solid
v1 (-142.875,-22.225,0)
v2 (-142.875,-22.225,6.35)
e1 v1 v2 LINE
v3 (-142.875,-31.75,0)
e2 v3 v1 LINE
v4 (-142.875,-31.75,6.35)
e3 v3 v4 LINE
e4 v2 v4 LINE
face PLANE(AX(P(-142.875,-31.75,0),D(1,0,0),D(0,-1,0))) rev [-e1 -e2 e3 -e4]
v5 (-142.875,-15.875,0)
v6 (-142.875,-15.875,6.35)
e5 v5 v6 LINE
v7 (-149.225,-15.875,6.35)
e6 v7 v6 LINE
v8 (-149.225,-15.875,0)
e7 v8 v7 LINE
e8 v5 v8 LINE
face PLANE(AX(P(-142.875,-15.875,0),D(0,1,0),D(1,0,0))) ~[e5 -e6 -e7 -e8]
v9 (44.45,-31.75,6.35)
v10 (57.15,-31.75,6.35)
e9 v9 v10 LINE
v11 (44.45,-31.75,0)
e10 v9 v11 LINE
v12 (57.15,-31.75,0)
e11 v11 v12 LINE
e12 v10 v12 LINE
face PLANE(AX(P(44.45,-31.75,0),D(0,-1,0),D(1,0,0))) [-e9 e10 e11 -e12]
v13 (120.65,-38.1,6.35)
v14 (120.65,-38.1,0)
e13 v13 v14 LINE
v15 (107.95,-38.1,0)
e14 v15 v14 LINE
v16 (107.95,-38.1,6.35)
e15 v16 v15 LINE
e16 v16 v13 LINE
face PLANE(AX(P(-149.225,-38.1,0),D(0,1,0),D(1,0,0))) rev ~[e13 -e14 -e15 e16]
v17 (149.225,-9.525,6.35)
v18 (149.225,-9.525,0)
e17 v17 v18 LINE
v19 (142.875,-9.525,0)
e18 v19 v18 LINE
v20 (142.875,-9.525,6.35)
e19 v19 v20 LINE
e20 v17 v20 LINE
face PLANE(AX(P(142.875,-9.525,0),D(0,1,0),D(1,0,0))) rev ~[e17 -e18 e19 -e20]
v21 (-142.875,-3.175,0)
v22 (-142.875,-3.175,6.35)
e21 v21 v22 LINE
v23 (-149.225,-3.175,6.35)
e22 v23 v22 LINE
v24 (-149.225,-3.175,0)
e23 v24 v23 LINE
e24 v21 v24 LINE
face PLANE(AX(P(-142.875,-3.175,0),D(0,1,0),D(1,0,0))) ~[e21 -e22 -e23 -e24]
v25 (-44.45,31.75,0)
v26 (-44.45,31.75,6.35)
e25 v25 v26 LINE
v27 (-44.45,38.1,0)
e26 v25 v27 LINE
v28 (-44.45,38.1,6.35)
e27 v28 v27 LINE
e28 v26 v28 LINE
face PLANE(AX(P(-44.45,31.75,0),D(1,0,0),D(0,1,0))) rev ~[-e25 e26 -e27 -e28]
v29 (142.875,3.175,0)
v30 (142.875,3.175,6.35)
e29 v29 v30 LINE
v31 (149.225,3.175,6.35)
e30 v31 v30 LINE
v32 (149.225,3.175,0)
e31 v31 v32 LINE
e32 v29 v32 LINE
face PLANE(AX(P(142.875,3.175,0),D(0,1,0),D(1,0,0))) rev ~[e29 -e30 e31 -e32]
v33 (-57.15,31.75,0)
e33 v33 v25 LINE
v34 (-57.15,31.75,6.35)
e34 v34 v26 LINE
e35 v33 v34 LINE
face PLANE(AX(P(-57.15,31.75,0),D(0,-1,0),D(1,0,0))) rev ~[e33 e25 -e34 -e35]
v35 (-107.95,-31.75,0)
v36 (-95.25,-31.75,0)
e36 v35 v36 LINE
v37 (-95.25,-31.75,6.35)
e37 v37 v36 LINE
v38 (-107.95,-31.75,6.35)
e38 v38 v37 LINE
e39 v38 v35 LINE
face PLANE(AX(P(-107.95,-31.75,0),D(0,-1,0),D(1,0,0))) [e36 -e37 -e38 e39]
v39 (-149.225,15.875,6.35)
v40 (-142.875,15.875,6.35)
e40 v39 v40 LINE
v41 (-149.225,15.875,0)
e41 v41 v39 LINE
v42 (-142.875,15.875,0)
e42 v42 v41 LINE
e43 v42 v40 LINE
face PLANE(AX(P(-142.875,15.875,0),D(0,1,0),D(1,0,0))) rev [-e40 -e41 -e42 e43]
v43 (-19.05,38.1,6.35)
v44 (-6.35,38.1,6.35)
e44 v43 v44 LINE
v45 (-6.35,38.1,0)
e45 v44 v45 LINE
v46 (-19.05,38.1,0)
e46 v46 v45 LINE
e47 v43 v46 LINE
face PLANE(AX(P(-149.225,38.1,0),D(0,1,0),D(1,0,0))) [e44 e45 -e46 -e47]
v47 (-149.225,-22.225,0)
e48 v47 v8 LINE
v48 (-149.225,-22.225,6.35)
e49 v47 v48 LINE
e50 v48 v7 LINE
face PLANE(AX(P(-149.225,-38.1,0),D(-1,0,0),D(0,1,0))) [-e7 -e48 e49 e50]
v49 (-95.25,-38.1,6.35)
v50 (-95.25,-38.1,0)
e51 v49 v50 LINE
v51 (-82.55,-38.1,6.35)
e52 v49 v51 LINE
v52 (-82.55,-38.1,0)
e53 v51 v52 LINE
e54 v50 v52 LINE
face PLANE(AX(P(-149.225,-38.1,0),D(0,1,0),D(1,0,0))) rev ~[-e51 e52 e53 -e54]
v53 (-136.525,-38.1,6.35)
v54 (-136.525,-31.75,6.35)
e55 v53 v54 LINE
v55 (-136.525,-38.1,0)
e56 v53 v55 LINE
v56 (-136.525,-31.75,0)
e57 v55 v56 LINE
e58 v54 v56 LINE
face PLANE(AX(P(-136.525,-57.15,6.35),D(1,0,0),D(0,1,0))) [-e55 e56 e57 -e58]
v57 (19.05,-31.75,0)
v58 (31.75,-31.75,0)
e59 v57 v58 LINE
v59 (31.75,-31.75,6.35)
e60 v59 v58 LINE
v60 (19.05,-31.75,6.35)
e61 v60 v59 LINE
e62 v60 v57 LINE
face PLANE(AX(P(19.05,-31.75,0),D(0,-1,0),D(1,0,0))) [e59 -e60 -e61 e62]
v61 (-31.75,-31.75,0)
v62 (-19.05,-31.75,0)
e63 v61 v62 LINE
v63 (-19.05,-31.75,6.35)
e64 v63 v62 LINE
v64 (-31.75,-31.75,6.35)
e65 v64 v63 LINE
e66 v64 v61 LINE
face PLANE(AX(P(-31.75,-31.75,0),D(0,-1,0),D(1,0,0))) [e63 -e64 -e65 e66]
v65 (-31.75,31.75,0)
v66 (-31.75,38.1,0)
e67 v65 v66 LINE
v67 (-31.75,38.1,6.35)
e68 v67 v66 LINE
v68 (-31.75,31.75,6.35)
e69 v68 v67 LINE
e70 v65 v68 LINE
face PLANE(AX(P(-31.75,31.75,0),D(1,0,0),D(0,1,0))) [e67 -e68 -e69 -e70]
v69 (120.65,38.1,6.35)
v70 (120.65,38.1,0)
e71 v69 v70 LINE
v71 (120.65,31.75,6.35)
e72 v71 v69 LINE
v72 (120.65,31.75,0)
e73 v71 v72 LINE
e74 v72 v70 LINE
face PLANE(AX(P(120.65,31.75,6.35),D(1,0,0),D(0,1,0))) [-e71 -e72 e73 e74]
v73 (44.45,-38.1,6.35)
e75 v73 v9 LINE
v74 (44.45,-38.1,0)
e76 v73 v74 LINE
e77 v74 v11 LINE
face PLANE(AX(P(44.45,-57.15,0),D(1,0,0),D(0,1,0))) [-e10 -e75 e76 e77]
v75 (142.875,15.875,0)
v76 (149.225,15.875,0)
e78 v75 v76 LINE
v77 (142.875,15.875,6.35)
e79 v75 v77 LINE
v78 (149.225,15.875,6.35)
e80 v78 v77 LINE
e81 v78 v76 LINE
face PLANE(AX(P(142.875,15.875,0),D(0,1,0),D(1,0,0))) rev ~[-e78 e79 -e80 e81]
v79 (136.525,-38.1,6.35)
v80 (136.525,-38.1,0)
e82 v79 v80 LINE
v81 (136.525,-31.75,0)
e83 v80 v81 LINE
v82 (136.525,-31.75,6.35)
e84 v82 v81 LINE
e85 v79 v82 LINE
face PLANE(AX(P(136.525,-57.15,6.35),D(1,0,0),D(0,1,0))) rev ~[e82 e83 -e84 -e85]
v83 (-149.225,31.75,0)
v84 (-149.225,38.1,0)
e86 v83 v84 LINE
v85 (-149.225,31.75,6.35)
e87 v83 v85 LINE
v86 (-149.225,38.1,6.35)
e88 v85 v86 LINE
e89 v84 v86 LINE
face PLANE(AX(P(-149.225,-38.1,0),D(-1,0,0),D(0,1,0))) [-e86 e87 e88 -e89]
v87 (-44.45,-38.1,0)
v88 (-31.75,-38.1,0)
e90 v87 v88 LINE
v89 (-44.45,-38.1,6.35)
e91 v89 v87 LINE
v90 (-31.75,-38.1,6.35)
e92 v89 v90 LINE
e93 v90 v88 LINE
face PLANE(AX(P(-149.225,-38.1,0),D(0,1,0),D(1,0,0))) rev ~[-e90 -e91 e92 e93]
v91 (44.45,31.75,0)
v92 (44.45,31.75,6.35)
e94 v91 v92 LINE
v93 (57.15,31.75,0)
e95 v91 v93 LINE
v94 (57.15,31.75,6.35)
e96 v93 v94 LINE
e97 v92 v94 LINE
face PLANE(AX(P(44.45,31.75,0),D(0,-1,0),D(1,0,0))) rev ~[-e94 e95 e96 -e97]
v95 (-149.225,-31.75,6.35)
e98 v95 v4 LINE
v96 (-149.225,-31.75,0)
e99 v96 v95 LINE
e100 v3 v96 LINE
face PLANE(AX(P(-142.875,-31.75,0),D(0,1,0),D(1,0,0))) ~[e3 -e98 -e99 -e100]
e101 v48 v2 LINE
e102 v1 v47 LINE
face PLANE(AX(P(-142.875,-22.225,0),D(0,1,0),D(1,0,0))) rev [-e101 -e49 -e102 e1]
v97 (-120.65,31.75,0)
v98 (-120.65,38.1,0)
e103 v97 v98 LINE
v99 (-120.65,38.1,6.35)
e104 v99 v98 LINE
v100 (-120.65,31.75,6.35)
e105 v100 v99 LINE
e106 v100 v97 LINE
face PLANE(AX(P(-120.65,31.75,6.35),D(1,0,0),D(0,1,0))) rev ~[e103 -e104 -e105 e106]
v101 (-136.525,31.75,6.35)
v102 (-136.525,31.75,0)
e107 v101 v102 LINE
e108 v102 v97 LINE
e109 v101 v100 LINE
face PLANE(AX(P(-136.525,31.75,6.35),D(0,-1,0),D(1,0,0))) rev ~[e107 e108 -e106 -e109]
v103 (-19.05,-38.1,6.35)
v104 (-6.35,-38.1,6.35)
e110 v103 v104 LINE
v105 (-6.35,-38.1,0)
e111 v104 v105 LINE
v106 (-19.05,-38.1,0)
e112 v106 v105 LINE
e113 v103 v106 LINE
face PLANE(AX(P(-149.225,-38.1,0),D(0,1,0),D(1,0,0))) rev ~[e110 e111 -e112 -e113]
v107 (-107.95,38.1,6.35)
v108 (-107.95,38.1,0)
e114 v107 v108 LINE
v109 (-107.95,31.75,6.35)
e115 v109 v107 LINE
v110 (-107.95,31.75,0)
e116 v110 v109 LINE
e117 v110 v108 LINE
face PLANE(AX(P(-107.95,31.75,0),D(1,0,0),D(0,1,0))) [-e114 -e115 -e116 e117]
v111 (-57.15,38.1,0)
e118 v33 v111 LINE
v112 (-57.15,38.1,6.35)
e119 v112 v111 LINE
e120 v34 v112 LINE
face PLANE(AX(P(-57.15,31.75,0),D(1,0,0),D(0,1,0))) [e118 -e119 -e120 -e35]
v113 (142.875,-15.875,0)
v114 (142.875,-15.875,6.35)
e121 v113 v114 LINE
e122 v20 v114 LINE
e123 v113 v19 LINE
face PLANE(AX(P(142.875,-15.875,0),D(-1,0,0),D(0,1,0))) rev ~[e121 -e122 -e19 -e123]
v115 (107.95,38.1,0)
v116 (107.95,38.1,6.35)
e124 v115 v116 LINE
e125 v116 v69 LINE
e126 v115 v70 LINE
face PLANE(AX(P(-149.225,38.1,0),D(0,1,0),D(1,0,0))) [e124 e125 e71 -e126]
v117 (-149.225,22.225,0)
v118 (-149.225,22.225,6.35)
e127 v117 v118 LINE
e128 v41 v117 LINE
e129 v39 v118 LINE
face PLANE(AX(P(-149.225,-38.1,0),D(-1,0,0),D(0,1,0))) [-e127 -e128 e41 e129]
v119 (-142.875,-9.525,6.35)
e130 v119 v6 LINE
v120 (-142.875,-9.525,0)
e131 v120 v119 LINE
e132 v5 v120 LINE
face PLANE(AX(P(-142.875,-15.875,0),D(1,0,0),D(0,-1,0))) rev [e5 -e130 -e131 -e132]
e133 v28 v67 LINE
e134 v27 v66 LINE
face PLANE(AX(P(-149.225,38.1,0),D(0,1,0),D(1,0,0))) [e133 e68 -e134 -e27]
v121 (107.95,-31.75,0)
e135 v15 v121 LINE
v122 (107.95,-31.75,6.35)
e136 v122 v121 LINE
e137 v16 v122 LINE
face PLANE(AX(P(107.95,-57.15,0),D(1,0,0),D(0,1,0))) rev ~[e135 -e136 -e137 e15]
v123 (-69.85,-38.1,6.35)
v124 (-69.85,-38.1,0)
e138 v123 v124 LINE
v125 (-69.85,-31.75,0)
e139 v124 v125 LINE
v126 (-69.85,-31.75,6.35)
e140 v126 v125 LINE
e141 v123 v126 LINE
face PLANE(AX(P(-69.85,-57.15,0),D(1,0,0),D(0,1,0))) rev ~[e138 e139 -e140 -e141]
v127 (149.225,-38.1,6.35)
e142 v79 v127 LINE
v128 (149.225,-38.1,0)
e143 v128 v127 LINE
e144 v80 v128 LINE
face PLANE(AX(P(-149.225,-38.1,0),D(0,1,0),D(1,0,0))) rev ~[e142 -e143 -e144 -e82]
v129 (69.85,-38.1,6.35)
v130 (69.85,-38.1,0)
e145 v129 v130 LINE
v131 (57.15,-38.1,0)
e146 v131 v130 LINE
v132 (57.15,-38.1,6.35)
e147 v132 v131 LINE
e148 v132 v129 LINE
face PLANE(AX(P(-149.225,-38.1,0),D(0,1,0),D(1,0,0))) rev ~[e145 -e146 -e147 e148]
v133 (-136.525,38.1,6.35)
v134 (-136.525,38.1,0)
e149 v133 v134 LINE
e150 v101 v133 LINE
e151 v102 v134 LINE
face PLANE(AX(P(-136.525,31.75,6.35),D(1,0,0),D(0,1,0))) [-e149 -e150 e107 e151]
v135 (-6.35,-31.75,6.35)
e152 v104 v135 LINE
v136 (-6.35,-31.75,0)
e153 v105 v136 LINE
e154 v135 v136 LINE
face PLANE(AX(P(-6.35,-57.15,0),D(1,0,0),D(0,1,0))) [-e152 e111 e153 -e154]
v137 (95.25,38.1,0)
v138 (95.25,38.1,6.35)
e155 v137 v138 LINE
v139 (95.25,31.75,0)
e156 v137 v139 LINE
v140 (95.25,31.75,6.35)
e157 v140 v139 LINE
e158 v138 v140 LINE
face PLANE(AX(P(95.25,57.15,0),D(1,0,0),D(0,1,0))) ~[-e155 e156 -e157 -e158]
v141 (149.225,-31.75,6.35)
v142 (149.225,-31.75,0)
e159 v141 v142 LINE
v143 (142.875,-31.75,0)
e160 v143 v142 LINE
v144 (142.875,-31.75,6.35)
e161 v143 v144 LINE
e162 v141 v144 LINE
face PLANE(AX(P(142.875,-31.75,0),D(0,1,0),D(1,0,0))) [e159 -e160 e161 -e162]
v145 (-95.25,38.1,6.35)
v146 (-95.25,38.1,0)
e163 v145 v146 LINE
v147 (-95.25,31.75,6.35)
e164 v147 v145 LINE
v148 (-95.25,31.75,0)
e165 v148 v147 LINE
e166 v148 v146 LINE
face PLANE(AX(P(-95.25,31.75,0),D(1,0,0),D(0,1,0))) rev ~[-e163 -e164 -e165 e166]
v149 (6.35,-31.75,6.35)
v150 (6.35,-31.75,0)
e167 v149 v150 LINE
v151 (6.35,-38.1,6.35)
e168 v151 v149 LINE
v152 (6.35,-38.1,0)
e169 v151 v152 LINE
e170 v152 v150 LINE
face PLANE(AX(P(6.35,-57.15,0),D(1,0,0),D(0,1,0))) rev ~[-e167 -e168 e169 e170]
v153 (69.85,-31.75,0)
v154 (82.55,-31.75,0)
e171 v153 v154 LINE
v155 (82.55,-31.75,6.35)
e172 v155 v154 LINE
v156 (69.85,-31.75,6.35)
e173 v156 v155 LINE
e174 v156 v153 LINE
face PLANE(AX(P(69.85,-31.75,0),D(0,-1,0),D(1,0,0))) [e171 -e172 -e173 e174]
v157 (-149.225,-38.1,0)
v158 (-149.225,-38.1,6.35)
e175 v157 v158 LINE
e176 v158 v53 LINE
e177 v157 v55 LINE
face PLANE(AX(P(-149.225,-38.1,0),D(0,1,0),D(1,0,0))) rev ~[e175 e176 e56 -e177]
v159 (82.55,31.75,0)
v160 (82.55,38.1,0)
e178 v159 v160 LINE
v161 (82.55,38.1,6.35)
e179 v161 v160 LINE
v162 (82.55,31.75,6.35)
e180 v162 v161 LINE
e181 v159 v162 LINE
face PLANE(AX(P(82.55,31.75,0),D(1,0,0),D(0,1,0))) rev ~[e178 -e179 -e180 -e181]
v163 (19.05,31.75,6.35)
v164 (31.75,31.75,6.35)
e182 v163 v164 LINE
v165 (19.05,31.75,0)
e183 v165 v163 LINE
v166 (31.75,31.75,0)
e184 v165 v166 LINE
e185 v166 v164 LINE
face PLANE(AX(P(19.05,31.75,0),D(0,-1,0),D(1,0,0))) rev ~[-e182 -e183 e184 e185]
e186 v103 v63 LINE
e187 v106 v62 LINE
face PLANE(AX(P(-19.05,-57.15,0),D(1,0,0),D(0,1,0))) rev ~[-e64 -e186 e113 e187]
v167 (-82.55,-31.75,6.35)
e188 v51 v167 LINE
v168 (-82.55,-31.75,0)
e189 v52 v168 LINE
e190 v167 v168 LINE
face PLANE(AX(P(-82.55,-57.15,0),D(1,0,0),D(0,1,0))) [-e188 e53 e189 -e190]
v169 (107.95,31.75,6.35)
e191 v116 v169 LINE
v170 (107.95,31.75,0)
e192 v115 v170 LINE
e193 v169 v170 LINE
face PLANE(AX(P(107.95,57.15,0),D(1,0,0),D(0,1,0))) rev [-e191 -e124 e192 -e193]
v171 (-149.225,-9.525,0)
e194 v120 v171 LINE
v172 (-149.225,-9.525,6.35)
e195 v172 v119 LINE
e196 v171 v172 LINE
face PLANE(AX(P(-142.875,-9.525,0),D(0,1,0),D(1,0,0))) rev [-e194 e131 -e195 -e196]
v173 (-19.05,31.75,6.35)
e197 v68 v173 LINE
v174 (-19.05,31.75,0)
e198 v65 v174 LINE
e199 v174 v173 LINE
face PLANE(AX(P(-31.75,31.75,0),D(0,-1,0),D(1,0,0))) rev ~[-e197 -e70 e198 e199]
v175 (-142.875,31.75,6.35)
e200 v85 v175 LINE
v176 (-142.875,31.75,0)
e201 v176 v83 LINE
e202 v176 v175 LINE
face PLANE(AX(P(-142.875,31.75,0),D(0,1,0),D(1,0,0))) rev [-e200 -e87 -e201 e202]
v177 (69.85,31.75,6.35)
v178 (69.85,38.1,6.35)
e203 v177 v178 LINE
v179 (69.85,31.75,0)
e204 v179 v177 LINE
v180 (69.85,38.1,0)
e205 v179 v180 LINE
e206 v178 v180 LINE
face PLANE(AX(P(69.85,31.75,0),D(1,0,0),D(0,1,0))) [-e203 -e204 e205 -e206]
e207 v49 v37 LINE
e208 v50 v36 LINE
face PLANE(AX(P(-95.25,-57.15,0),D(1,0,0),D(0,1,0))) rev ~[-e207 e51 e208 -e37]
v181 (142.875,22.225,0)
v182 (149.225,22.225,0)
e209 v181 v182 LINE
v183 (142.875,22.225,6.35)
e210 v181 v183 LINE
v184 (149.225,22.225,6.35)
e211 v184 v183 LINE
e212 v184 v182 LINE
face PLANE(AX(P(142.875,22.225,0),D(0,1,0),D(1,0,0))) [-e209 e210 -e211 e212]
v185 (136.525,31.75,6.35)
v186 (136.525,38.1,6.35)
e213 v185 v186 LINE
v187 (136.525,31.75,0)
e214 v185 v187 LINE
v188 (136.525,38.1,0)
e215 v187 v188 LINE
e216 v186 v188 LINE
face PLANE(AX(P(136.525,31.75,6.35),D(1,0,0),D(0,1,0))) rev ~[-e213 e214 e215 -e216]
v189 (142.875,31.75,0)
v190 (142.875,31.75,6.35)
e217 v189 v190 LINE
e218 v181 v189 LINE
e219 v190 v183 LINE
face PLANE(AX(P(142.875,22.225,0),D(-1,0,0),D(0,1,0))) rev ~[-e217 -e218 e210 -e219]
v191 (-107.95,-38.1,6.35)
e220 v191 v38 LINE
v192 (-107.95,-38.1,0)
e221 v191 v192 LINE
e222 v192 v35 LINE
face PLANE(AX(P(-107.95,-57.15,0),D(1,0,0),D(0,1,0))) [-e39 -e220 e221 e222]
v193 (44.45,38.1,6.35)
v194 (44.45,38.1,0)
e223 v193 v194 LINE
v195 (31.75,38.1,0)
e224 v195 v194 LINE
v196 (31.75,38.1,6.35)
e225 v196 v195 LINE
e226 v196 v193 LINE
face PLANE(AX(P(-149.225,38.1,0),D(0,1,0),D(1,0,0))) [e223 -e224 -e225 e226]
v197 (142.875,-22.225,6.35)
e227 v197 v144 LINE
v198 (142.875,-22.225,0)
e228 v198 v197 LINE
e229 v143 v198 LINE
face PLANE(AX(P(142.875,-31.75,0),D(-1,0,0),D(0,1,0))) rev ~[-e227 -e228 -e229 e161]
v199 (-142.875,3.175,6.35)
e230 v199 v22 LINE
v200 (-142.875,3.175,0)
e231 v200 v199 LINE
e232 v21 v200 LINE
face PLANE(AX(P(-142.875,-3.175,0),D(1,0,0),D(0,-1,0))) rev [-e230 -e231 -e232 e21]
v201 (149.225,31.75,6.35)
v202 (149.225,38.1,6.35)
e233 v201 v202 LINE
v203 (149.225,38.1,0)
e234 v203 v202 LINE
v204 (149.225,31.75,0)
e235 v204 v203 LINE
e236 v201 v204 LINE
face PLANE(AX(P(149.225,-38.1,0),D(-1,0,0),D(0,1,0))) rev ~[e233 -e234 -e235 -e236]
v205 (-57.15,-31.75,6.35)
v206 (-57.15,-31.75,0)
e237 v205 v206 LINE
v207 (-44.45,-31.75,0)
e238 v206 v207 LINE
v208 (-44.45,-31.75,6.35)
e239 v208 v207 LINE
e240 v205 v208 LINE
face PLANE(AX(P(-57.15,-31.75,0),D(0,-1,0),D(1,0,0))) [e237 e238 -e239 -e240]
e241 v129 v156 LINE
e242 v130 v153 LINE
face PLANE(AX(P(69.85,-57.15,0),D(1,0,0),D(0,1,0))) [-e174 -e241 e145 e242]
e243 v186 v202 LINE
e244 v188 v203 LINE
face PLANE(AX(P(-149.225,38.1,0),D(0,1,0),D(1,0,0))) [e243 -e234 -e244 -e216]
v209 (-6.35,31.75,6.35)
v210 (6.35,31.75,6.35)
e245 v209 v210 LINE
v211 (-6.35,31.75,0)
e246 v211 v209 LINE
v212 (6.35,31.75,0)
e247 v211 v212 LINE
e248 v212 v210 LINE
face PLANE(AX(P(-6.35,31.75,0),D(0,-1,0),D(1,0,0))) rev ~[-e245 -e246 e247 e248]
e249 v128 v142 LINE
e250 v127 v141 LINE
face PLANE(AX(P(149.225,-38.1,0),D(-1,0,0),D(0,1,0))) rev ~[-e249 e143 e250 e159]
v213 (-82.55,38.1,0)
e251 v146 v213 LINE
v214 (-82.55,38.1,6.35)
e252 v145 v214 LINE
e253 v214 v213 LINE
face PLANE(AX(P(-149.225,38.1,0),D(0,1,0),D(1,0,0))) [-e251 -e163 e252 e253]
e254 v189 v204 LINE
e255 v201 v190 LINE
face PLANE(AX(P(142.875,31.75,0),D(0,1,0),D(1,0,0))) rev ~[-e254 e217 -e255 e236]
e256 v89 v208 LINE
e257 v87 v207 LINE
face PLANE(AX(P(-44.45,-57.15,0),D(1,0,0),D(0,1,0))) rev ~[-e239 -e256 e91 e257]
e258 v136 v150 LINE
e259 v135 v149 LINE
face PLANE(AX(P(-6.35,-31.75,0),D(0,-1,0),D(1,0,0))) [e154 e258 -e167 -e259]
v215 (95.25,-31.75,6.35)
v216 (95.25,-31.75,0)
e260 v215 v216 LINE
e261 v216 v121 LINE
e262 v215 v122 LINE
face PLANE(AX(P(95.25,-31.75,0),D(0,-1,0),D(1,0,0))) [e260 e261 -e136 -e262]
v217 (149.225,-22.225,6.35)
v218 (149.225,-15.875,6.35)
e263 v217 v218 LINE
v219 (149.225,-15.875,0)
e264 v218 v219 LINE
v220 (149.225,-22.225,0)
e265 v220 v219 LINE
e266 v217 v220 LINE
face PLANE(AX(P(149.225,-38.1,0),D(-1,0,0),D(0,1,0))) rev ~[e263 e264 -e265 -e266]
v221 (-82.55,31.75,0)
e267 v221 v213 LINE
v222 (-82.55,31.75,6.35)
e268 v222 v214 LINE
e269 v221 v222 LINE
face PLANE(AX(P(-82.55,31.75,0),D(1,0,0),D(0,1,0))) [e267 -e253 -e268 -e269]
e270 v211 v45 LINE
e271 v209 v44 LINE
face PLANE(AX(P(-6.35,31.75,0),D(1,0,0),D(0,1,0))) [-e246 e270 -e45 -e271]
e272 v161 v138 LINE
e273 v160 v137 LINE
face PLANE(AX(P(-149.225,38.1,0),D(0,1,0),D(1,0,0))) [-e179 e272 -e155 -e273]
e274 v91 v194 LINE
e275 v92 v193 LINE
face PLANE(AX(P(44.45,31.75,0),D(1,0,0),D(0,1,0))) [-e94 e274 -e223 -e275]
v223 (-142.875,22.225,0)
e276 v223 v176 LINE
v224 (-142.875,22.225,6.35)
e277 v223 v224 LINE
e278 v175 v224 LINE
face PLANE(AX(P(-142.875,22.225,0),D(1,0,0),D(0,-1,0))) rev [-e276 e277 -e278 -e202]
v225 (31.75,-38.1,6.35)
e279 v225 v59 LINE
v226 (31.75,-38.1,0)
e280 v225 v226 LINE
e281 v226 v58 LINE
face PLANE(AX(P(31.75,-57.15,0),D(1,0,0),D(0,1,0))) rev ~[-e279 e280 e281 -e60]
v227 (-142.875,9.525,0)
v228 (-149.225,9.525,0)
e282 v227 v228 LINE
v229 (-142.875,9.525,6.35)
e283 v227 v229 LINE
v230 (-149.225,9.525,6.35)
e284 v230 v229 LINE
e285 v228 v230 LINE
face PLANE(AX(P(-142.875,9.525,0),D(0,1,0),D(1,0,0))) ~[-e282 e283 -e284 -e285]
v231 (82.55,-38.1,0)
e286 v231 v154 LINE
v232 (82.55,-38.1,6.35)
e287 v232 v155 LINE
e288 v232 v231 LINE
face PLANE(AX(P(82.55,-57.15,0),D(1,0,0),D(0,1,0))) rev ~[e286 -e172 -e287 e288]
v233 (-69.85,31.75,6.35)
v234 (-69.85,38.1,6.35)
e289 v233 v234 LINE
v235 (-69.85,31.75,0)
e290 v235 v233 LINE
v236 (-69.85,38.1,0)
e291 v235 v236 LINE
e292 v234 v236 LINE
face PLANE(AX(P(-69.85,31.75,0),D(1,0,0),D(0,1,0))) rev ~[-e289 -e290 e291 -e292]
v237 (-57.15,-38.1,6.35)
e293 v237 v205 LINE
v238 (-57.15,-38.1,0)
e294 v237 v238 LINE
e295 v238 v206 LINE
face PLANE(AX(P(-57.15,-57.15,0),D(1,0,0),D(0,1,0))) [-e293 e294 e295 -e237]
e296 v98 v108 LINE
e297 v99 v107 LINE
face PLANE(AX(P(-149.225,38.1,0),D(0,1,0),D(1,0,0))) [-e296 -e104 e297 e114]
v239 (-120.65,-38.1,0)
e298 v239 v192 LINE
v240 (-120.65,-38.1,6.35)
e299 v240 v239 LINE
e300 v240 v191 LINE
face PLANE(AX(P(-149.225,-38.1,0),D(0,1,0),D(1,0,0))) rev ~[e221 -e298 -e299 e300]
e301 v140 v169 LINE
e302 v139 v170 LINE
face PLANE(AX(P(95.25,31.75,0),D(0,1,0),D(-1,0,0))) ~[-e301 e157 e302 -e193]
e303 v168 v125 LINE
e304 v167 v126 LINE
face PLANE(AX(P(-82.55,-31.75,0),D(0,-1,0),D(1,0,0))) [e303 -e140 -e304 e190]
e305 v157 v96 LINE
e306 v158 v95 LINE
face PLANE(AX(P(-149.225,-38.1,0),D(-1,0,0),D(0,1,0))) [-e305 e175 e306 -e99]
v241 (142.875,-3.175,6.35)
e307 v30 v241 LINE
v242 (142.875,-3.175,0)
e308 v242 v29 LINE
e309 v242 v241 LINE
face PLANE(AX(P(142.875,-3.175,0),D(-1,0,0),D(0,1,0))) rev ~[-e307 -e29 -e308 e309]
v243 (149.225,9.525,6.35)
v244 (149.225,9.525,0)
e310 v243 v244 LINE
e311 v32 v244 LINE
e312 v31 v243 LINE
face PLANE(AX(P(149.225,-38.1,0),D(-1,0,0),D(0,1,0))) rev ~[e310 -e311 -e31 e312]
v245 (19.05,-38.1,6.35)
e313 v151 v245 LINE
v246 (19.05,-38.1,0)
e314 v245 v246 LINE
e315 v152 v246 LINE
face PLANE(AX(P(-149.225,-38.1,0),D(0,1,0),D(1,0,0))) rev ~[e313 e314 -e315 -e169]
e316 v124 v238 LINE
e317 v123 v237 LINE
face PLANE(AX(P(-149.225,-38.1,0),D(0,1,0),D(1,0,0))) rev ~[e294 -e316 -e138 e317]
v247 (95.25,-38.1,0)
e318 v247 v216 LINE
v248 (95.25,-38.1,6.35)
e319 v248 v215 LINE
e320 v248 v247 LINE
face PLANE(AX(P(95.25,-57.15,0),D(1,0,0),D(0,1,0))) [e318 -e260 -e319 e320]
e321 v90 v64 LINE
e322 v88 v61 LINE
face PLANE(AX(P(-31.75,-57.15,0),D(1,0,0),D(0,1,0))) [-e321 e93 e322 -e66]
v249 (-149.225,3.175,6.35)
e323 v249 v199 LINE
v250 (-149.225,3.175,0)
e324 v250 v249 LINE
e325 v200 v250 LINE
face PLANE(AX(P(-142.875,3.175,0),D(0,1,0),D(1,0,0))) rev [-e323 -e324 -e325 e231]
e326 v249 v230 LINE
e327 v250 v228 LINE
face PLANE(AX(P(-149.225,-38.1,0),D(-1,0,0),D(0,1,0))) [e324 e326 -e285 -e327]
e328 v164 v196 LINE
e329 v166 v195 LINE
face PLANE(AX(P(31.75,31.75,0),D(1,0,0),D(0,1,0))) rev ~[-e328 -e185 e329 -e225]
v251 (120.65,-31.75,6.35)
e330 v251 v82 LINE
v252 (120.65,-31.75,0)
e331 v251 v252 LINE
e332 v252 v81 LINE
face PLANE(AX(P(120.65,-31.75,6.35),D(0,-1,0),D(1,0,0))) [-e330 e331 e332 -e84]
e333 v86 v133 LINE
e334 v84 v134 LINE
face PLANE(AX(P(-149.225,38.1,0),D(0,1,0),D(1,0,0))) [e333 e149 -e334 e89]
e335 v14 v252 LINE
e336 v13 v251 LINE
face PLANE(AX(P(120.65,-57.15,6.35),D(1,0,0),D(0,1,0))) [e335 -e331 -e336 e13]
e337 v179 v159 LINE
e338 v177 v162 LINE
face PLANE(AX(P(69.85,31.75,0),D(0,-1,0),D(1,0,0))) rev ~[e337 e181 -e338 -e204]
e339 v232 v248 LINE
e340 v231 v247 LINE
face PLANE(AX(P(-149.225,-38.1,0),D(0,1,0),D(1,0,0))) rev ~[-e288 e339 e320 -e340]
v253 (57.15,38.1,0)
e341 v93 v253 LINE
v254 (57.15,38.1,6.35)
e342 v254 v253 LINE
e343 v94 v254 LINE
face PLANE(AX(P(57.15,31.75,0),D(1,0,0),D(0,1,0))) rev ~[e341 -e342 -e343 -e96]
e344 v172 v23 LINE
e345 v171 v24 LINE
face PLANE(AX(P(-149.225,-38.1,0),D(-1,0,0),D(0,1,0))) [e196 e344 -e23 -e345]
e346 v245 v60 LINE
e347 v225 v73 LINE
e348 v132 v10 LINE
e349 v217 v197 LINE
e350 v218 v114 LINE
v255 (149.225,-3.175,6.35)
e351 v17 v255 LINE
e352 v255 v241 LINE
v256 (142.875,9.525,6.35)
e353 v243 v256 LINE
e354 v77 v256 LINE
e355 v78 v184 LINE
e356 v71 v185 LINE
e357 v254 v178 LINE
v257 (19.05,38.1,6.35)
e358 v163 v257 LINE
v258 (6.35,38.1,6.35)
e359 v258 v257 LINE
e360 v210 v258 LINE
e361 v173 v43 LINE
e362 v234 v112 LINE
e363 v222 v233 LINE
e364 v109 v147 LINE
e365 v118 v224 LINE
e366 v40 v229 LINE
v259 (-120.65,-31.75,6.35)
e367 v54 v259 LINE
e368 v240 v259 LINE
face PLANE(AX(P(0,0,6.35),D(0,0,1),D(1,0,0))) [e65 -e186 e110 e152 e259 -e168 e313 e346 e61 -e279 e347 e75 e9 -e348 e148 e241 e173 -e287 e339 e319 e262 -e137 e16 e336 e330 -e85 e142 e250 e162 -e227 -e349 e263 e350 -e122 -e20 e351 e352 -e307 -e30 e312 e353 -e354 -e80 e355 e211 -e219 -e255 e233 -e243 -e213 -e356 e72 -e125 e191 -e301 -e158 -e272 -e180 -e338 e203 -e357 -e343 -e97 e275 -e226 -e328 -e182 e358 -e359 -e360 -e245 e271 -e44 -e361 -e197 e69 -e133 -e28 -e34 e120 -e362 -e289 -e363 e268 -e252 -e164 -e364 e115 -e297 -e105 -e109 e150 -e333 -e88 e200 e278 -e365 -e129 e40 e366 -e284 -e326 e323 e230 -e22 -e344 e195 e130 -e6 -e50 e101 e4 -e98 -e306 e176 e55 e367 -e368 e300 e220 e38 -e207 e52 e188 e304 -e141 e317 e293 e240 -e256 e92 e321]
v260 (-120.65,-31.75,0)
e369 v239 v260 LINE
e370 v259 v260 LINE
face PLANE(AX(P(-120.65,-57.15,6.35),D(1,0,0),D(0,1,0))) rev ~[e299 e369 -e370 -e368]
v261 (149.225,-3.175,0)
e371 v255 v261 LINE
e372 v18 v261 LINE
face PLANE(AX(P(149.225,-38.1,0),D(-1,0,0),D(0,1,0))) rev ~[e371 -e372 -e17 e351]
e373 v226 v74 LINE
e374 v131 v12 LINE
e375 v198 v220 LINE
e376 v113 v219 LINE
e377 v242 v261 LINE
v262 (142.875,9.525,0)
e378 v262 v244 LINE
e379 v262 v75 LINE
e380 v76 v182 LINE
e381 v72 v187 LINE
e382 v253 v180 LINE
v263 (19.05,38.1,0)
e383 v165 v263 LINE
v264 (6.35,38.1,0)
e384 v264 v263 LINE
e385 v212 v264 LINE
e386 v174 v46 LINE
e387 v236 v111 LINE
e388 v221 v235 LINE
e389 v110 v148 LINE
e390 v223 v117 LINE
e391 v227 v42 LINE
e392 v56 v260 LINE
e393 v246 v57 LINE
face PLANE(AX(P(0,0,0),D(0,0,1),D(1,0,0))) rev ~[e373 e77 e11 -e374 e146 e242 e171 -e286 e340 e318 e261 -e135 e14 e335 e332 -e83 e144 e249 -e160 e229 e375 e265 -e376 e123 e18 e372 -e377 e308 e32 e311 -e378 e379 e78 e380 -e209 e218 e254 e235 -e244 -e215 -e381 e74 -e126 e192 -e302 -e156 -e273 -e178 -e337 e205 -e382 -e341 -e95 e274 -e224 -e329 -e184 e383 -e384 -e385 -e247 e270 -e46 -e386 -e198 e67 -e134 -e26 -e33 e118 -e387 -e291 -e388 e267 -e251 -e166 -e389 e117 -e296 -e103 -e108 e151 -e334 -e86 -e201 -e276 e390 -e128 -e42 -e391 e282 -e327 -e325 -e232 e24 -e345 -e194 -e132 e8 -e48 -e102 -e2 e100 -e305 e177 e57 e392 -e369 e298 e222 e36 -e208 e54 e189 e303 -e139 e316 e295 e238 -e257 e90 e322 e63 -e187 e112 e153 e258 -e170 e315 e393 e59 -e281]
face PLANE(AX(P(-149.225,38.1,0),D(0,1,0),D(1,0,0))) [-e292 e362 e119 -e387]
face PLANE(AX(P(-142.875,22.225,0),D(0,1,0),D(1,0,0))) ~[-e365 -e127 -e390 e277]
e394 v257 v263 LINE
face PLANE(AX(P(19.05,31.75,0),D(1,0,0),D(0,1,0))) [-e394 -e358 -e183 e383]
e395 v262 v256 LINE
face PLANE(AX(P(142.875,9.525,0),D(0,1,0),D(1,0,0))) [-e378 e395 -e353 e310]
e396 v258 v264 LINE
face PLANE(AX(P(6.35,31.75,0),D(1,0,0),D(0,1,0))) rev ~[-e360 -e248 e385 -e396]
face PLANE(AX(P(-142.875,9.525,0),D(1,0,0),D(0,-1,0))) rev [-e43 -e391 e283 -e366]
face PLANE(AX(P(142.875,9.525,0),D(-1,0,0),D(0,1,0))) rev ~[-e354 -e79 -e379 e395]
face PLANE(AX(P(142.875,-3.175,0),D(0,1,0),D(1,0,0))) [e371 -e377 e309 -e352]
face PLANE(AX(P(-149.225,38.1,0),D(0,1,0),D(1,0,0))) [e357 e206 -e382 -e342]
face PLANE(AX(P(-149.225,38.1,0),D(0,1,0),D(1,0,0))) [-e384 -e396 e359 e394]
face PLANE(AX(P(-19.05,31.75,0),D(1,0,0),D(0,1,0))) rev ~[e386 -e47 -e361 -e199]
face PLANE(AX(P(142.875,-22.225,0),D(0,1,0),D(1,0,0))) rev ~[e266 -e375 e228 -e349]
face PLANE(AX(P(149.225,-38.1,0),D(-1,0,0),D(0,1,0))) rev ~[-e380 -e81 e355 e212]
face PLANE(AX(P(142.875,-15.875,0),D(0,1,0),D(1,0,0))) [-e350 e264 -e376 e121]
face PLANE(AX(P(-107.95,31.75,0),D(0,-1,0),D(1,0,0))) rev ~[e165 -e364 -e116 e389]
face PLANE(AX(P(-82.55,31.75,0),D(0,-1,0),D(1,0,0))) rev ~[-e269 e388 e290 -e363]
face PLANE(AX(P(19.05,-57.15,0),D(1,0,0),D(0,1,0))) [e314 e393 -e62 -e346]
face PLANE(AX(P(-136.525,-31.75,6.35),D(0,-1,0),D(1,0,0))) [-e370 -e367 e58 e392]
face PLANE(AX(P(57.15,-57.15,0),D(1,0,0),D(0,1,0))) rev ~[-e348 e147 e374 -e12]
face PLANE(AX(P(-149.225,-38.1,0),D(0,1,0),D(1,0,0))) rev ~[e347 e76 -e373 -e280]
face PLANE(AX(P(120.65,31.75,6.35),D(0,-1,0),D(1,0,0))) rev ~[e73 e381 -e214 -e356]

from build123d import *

# Parameters (mm, degrees)
SKETCH1_W               = 298.45
SKETCH1_H               = 76.2
BOSS_EXTRUDE1_DEPTH     = 6.35
SKETCH2_W               = 12.7
SKETCH2_H               = 25.4
CUT_EXTRUDE5_DEPTH      = 155.142898393
LPATTERN1_COUNT         = 9
LPATTERN1_PITCH         = 25.4
MIRROR1_COPY_1_SKETCH_W = 12.7
MIRROR1_COPY_1_SKETCH_H = 25.4
MIRROR1_COPY_1_DEPTH    = 155.142898393
MIRROR1_COPY_2_SKETCH_W = 12.7
MIRROR1_COPY_2_SKETCH_H = 25.4
MIRROR1_COPY_2_DEPTH    = 155.142898393
MIRROR1_COPY_3_SKETCH_W = 12.7
MIRROR1_COPY_3_SKETCH_H = 25.4
MIRROR1_COPY_3_DEPTH    = 155.142898393
MIRROR1_COPY_4_SKETCH_W = 12.7
MIRROR1_COPY_4_SKETCH_H = 25.4
MIRROR1_COPY_4_DEPTH    = 155.142898393
MIRROR1_COPY_5_SKETCH_W = 12.7
MIRROR1_COPY_5_SKETCH_H = 25.4
MIRROR1_COPY_5_DEPTH    = 155.142898393
MIRROR1_COPY_6_SKETCH_W = 12.7
MIRROR1_COPY_6_SKETCH_H = 25.4
MIRROR1_COPY_6_DEPTH    = 155.142898393
MIRROR1_COPY_7_SKETCH_W = 12.7
MIRROR1_COPY_7_SKETCH_H = 25.4
MIRROR1_COPY_7_DEPTH    = 155.142898393
MIRROR1_COPY_8_SKETCH_W = 12.7
MIRROR1_COPY_8_SKETCH_H = 25.4
MIRROR1_COPY_8_DEPTH    = 155.142898393
SKETCH3_W               = 40.748476415
SKETCH3_H               = 6.35
SKETCH3_W_2             = 25.4
SKETCH3_H_2             = 9.525
CUT_EXTRUDE7_DEPTH      = 155.142898393
SKETCH4_W               = 15.875
SKETCH4_H               = 25.4
CUT_EXTRUDE8_DEPTH      = 155.142898393


with BuildPart() as part:
    # Sketch1 → Boss-Extrude1 (new body)
    with BuildSketch(Plane.XY):
        Rectangle(SKETCH1_W, SKETCH1_H)
    extrude(amount=BOSS_EXTRUDE1_DEPTH)

    # Sketch2 → Cut-Extrude5 (cut, symmetric)
    with BuildSketch(Plane.XY):
        with Locations((101.6, -44.45)):
            Rectangle(SKETCH2_W, SKETCH2_H)
    cut_extrude5 = extrude(amount=CUT_EXTRUDE5_DEPTH, both=True, mode=Mode.SUBTRACT)

    # LPattern1: Cut-Extrude5 ×9
    with Locations(*[(-i * LPATTERN1_PITCH, 0, 0) for i in range(1, LPATTERN1_COUNT)]):
        add(cut_extrude5, mode=Mode.SUBTRACT)

    # Mirror1: Cut-Extrude5 across plane
    add(cut_extrude5.mirror(Plane.ZX), mode=Mode.SUBTRACT)

    # Mirror1 copy 1 sketch → Mirror1 copy 1 (cut, symmetric)
    with BuildSketch(Plane(origin=(-25.4, 0, 0), x_dir=(1, 0, 0), z_dir=(0, 0, 1))):
        with Locations((101.6, 44.45)):
            Rectangle(MIRROR1_COPY_1_SKETCH_W, MIRROR1_COPY_1_SKETCH_H)
    extrude(amount=MIRROR1_COPY_1_DEPTH, both=True, mode=Mode.SUBTRACT)

    # Mirror1 copy 2 sketch → Mirror1 copy 2 (cut, symmetric)
    with BuildSketch(Plane(origin=(-50.8, 0, 0), x_dir=(1, 0, 0), z_dir=(0, 0, 1))):
        with Locations((101.6, 44.45)):
            Rectangle(MIRROR1_COPY_2_SKETCH_W, MIRROR1_COPY_2_SKETCH_H)
    extrude(amount=MIRROR1_COPY_2_DEPTH, both=True, mode=Mode.SUBTRACT)

    # Mirror1 copy 3 sketch → Mirror1 copy 3 (cut, symmetric)
    with BuildSketch(Plane(origin=(-76.2, 0, 0), x_dir=(1, 0, 0), z_dir=(0, 0, 1))):
        with Locations((101.6, 44.45)):
            Rectangle(MIRROR1_COPY_3_SKETCH_W, MIRROR1_COPY_3_SKETCH_H)
    extrude(amount=MIRROR1_COPY_3_DEPTH, both=True, mode=Mode.SUBTRACT)

    # Mirror1 copy 4 sketch → Mirror1 copy 4 (cut, symmetric)
    with BuildSketch(Plane(origin=(-101.6, 0, 0), x_dir=(1, 0, 0), z_dir=(0, 0, 1))):
        with Locations((101.6, 44.45)):
            Rectangle(MIRROR1_COPY_4_SKETCH_W, MIRROR1_COPY_4_SKETCH_H)
    extrude(amount=MIRROR1_COPY_4_DEPTH, both=True, mode=Mode.SUBTRACT)

    # Mirror1 copy 5 sketch → Mirror1 copy 5 (cut, symmetric)
    with BuildSketch(Plane(origin=(-127, 0, 0), x_dir=(1, 0, 0), z_dir=(0, 0, 1))):
        with Locations((101.6, 44.45)):
            Rectangle(MIRROR1_COPY_5_SKETCH_W, MIRROR1_COPY_5_SKETCH_H)
    extrude(amount=MIRROR1_COPY_5_DEPTH, both=True, mode=Mode.SUBTRACT)

    # Mirror1 copy 6 sketch → Mirror1 copy 6 (cut, symmetric)
    with BuildSketch(Plane(origin=(-152.4, 0, 0), x_dir=(1, 0, 0), z_dir=(0, 0, 1))):
        with Locations((101.6, 44.45)):
            Rectangle(MIRROR1_COPY_6_SKETCH_W, MIRROR1_COPY_6_SKETCH_H)
    extrude(amount=MIRROR1_COPY_6_DEPTH, both=True, mode=Mode.SUBTRACT)

    # Mirror1 copy 7 sketch → Mirror1 copy 7 (cut, symmetric)
    with BuildSketch(Plane(origin=(-177.8, 0, 0), x_dir=(1, 0, 0), z_dir=(0, 0, 1))):
        with Locations((101.6, 44.45)):
            Rectangle(MIRROR1_COPY_7_SKETCH_W, MIRROR1_COPY_7_SKETCH_H)
    extrude(amount=MIRROR1_COPY_7_DEPTH, both=True, mode=Mode.SUBTRACT)

    # Mirror1 copy 8 sketch → Mirror1 copy 8 (cut, symmetric)
    with BuildSketch(Plane(origin=(-203.2, 0, 0), x_dir=(1, 0, 0), z_dir=(0, 0, 1))):
        with Locations((101.6, 44.45)):
            Rectangle(MIRROR1_COPY_8_SKETCH_W, MIRROR1_COPY_8_SKETCH_H)
    extrude(amount=MIRROR1_COPY_8_DEPTH, both=True, mode=Mode.SUBTRACT)

    # Sketch3 → Cut-Extrude7 (cut, through all)
    with BuildSketch(Plane.XY):
        with Locations((163.249238208, 12.7)):
            Rectangle(SKETCH3_W, SKETCH3_H)
        with Locations((163.249238208, 0)):
            Rectangle(SKETCH3_W, SKETCH3_H)
        with Locations((163.249238208, -12.7)):
            Rectangle(SKETCH3_W, SKETCH3_H)
        with Locations((155.575, 26.9875)):
            Rectangle(SKETCH3_W_2, SKETCH3_H_2)
        with Locations((155.575, -26.9875)):
            Rectangle(SKETCH3_W_2, SKETCH3_H_2)
    cut_extrude7 = extrude(amount=CUT_EXTRUDE7_DEPTH, mode=Mode.SUBTRACT)

    # Mirror2: Cut-Extrude7 across plane
    add(cut_extrude7.mirror(Plane(origin=(0, 0, 0), x_dir=(0, 0, 1), z_dir=(1, 0, 0))), mode=Mode.SUBTRACT)

    # Sketch4 → Cut-Extrude8 (cut, through all)
    with BuildSketch(Plane.XY.offset(6.35)):
        with Locations((128.5875, -44.45)):
            Rectangle(SKETCH4_W, SKETCH4_H)
        with Locations((-128.5875, -44.45)):
            Rectangle(SKETCH4_W, SKETCH4_H)
        with Locations((-128.5875, 44.45)):
            Rectangle(SKETCH4_W, SKETCH4_H)
        with Locations((128.5875, 44.45)):
            Rectangle(SKETCH4_W, SKETCH4_H)
    extrude(amount=-CUT_EXTRUDE8_DEPTH, mode=Mode.SUBTRACT)


solid = part.part
